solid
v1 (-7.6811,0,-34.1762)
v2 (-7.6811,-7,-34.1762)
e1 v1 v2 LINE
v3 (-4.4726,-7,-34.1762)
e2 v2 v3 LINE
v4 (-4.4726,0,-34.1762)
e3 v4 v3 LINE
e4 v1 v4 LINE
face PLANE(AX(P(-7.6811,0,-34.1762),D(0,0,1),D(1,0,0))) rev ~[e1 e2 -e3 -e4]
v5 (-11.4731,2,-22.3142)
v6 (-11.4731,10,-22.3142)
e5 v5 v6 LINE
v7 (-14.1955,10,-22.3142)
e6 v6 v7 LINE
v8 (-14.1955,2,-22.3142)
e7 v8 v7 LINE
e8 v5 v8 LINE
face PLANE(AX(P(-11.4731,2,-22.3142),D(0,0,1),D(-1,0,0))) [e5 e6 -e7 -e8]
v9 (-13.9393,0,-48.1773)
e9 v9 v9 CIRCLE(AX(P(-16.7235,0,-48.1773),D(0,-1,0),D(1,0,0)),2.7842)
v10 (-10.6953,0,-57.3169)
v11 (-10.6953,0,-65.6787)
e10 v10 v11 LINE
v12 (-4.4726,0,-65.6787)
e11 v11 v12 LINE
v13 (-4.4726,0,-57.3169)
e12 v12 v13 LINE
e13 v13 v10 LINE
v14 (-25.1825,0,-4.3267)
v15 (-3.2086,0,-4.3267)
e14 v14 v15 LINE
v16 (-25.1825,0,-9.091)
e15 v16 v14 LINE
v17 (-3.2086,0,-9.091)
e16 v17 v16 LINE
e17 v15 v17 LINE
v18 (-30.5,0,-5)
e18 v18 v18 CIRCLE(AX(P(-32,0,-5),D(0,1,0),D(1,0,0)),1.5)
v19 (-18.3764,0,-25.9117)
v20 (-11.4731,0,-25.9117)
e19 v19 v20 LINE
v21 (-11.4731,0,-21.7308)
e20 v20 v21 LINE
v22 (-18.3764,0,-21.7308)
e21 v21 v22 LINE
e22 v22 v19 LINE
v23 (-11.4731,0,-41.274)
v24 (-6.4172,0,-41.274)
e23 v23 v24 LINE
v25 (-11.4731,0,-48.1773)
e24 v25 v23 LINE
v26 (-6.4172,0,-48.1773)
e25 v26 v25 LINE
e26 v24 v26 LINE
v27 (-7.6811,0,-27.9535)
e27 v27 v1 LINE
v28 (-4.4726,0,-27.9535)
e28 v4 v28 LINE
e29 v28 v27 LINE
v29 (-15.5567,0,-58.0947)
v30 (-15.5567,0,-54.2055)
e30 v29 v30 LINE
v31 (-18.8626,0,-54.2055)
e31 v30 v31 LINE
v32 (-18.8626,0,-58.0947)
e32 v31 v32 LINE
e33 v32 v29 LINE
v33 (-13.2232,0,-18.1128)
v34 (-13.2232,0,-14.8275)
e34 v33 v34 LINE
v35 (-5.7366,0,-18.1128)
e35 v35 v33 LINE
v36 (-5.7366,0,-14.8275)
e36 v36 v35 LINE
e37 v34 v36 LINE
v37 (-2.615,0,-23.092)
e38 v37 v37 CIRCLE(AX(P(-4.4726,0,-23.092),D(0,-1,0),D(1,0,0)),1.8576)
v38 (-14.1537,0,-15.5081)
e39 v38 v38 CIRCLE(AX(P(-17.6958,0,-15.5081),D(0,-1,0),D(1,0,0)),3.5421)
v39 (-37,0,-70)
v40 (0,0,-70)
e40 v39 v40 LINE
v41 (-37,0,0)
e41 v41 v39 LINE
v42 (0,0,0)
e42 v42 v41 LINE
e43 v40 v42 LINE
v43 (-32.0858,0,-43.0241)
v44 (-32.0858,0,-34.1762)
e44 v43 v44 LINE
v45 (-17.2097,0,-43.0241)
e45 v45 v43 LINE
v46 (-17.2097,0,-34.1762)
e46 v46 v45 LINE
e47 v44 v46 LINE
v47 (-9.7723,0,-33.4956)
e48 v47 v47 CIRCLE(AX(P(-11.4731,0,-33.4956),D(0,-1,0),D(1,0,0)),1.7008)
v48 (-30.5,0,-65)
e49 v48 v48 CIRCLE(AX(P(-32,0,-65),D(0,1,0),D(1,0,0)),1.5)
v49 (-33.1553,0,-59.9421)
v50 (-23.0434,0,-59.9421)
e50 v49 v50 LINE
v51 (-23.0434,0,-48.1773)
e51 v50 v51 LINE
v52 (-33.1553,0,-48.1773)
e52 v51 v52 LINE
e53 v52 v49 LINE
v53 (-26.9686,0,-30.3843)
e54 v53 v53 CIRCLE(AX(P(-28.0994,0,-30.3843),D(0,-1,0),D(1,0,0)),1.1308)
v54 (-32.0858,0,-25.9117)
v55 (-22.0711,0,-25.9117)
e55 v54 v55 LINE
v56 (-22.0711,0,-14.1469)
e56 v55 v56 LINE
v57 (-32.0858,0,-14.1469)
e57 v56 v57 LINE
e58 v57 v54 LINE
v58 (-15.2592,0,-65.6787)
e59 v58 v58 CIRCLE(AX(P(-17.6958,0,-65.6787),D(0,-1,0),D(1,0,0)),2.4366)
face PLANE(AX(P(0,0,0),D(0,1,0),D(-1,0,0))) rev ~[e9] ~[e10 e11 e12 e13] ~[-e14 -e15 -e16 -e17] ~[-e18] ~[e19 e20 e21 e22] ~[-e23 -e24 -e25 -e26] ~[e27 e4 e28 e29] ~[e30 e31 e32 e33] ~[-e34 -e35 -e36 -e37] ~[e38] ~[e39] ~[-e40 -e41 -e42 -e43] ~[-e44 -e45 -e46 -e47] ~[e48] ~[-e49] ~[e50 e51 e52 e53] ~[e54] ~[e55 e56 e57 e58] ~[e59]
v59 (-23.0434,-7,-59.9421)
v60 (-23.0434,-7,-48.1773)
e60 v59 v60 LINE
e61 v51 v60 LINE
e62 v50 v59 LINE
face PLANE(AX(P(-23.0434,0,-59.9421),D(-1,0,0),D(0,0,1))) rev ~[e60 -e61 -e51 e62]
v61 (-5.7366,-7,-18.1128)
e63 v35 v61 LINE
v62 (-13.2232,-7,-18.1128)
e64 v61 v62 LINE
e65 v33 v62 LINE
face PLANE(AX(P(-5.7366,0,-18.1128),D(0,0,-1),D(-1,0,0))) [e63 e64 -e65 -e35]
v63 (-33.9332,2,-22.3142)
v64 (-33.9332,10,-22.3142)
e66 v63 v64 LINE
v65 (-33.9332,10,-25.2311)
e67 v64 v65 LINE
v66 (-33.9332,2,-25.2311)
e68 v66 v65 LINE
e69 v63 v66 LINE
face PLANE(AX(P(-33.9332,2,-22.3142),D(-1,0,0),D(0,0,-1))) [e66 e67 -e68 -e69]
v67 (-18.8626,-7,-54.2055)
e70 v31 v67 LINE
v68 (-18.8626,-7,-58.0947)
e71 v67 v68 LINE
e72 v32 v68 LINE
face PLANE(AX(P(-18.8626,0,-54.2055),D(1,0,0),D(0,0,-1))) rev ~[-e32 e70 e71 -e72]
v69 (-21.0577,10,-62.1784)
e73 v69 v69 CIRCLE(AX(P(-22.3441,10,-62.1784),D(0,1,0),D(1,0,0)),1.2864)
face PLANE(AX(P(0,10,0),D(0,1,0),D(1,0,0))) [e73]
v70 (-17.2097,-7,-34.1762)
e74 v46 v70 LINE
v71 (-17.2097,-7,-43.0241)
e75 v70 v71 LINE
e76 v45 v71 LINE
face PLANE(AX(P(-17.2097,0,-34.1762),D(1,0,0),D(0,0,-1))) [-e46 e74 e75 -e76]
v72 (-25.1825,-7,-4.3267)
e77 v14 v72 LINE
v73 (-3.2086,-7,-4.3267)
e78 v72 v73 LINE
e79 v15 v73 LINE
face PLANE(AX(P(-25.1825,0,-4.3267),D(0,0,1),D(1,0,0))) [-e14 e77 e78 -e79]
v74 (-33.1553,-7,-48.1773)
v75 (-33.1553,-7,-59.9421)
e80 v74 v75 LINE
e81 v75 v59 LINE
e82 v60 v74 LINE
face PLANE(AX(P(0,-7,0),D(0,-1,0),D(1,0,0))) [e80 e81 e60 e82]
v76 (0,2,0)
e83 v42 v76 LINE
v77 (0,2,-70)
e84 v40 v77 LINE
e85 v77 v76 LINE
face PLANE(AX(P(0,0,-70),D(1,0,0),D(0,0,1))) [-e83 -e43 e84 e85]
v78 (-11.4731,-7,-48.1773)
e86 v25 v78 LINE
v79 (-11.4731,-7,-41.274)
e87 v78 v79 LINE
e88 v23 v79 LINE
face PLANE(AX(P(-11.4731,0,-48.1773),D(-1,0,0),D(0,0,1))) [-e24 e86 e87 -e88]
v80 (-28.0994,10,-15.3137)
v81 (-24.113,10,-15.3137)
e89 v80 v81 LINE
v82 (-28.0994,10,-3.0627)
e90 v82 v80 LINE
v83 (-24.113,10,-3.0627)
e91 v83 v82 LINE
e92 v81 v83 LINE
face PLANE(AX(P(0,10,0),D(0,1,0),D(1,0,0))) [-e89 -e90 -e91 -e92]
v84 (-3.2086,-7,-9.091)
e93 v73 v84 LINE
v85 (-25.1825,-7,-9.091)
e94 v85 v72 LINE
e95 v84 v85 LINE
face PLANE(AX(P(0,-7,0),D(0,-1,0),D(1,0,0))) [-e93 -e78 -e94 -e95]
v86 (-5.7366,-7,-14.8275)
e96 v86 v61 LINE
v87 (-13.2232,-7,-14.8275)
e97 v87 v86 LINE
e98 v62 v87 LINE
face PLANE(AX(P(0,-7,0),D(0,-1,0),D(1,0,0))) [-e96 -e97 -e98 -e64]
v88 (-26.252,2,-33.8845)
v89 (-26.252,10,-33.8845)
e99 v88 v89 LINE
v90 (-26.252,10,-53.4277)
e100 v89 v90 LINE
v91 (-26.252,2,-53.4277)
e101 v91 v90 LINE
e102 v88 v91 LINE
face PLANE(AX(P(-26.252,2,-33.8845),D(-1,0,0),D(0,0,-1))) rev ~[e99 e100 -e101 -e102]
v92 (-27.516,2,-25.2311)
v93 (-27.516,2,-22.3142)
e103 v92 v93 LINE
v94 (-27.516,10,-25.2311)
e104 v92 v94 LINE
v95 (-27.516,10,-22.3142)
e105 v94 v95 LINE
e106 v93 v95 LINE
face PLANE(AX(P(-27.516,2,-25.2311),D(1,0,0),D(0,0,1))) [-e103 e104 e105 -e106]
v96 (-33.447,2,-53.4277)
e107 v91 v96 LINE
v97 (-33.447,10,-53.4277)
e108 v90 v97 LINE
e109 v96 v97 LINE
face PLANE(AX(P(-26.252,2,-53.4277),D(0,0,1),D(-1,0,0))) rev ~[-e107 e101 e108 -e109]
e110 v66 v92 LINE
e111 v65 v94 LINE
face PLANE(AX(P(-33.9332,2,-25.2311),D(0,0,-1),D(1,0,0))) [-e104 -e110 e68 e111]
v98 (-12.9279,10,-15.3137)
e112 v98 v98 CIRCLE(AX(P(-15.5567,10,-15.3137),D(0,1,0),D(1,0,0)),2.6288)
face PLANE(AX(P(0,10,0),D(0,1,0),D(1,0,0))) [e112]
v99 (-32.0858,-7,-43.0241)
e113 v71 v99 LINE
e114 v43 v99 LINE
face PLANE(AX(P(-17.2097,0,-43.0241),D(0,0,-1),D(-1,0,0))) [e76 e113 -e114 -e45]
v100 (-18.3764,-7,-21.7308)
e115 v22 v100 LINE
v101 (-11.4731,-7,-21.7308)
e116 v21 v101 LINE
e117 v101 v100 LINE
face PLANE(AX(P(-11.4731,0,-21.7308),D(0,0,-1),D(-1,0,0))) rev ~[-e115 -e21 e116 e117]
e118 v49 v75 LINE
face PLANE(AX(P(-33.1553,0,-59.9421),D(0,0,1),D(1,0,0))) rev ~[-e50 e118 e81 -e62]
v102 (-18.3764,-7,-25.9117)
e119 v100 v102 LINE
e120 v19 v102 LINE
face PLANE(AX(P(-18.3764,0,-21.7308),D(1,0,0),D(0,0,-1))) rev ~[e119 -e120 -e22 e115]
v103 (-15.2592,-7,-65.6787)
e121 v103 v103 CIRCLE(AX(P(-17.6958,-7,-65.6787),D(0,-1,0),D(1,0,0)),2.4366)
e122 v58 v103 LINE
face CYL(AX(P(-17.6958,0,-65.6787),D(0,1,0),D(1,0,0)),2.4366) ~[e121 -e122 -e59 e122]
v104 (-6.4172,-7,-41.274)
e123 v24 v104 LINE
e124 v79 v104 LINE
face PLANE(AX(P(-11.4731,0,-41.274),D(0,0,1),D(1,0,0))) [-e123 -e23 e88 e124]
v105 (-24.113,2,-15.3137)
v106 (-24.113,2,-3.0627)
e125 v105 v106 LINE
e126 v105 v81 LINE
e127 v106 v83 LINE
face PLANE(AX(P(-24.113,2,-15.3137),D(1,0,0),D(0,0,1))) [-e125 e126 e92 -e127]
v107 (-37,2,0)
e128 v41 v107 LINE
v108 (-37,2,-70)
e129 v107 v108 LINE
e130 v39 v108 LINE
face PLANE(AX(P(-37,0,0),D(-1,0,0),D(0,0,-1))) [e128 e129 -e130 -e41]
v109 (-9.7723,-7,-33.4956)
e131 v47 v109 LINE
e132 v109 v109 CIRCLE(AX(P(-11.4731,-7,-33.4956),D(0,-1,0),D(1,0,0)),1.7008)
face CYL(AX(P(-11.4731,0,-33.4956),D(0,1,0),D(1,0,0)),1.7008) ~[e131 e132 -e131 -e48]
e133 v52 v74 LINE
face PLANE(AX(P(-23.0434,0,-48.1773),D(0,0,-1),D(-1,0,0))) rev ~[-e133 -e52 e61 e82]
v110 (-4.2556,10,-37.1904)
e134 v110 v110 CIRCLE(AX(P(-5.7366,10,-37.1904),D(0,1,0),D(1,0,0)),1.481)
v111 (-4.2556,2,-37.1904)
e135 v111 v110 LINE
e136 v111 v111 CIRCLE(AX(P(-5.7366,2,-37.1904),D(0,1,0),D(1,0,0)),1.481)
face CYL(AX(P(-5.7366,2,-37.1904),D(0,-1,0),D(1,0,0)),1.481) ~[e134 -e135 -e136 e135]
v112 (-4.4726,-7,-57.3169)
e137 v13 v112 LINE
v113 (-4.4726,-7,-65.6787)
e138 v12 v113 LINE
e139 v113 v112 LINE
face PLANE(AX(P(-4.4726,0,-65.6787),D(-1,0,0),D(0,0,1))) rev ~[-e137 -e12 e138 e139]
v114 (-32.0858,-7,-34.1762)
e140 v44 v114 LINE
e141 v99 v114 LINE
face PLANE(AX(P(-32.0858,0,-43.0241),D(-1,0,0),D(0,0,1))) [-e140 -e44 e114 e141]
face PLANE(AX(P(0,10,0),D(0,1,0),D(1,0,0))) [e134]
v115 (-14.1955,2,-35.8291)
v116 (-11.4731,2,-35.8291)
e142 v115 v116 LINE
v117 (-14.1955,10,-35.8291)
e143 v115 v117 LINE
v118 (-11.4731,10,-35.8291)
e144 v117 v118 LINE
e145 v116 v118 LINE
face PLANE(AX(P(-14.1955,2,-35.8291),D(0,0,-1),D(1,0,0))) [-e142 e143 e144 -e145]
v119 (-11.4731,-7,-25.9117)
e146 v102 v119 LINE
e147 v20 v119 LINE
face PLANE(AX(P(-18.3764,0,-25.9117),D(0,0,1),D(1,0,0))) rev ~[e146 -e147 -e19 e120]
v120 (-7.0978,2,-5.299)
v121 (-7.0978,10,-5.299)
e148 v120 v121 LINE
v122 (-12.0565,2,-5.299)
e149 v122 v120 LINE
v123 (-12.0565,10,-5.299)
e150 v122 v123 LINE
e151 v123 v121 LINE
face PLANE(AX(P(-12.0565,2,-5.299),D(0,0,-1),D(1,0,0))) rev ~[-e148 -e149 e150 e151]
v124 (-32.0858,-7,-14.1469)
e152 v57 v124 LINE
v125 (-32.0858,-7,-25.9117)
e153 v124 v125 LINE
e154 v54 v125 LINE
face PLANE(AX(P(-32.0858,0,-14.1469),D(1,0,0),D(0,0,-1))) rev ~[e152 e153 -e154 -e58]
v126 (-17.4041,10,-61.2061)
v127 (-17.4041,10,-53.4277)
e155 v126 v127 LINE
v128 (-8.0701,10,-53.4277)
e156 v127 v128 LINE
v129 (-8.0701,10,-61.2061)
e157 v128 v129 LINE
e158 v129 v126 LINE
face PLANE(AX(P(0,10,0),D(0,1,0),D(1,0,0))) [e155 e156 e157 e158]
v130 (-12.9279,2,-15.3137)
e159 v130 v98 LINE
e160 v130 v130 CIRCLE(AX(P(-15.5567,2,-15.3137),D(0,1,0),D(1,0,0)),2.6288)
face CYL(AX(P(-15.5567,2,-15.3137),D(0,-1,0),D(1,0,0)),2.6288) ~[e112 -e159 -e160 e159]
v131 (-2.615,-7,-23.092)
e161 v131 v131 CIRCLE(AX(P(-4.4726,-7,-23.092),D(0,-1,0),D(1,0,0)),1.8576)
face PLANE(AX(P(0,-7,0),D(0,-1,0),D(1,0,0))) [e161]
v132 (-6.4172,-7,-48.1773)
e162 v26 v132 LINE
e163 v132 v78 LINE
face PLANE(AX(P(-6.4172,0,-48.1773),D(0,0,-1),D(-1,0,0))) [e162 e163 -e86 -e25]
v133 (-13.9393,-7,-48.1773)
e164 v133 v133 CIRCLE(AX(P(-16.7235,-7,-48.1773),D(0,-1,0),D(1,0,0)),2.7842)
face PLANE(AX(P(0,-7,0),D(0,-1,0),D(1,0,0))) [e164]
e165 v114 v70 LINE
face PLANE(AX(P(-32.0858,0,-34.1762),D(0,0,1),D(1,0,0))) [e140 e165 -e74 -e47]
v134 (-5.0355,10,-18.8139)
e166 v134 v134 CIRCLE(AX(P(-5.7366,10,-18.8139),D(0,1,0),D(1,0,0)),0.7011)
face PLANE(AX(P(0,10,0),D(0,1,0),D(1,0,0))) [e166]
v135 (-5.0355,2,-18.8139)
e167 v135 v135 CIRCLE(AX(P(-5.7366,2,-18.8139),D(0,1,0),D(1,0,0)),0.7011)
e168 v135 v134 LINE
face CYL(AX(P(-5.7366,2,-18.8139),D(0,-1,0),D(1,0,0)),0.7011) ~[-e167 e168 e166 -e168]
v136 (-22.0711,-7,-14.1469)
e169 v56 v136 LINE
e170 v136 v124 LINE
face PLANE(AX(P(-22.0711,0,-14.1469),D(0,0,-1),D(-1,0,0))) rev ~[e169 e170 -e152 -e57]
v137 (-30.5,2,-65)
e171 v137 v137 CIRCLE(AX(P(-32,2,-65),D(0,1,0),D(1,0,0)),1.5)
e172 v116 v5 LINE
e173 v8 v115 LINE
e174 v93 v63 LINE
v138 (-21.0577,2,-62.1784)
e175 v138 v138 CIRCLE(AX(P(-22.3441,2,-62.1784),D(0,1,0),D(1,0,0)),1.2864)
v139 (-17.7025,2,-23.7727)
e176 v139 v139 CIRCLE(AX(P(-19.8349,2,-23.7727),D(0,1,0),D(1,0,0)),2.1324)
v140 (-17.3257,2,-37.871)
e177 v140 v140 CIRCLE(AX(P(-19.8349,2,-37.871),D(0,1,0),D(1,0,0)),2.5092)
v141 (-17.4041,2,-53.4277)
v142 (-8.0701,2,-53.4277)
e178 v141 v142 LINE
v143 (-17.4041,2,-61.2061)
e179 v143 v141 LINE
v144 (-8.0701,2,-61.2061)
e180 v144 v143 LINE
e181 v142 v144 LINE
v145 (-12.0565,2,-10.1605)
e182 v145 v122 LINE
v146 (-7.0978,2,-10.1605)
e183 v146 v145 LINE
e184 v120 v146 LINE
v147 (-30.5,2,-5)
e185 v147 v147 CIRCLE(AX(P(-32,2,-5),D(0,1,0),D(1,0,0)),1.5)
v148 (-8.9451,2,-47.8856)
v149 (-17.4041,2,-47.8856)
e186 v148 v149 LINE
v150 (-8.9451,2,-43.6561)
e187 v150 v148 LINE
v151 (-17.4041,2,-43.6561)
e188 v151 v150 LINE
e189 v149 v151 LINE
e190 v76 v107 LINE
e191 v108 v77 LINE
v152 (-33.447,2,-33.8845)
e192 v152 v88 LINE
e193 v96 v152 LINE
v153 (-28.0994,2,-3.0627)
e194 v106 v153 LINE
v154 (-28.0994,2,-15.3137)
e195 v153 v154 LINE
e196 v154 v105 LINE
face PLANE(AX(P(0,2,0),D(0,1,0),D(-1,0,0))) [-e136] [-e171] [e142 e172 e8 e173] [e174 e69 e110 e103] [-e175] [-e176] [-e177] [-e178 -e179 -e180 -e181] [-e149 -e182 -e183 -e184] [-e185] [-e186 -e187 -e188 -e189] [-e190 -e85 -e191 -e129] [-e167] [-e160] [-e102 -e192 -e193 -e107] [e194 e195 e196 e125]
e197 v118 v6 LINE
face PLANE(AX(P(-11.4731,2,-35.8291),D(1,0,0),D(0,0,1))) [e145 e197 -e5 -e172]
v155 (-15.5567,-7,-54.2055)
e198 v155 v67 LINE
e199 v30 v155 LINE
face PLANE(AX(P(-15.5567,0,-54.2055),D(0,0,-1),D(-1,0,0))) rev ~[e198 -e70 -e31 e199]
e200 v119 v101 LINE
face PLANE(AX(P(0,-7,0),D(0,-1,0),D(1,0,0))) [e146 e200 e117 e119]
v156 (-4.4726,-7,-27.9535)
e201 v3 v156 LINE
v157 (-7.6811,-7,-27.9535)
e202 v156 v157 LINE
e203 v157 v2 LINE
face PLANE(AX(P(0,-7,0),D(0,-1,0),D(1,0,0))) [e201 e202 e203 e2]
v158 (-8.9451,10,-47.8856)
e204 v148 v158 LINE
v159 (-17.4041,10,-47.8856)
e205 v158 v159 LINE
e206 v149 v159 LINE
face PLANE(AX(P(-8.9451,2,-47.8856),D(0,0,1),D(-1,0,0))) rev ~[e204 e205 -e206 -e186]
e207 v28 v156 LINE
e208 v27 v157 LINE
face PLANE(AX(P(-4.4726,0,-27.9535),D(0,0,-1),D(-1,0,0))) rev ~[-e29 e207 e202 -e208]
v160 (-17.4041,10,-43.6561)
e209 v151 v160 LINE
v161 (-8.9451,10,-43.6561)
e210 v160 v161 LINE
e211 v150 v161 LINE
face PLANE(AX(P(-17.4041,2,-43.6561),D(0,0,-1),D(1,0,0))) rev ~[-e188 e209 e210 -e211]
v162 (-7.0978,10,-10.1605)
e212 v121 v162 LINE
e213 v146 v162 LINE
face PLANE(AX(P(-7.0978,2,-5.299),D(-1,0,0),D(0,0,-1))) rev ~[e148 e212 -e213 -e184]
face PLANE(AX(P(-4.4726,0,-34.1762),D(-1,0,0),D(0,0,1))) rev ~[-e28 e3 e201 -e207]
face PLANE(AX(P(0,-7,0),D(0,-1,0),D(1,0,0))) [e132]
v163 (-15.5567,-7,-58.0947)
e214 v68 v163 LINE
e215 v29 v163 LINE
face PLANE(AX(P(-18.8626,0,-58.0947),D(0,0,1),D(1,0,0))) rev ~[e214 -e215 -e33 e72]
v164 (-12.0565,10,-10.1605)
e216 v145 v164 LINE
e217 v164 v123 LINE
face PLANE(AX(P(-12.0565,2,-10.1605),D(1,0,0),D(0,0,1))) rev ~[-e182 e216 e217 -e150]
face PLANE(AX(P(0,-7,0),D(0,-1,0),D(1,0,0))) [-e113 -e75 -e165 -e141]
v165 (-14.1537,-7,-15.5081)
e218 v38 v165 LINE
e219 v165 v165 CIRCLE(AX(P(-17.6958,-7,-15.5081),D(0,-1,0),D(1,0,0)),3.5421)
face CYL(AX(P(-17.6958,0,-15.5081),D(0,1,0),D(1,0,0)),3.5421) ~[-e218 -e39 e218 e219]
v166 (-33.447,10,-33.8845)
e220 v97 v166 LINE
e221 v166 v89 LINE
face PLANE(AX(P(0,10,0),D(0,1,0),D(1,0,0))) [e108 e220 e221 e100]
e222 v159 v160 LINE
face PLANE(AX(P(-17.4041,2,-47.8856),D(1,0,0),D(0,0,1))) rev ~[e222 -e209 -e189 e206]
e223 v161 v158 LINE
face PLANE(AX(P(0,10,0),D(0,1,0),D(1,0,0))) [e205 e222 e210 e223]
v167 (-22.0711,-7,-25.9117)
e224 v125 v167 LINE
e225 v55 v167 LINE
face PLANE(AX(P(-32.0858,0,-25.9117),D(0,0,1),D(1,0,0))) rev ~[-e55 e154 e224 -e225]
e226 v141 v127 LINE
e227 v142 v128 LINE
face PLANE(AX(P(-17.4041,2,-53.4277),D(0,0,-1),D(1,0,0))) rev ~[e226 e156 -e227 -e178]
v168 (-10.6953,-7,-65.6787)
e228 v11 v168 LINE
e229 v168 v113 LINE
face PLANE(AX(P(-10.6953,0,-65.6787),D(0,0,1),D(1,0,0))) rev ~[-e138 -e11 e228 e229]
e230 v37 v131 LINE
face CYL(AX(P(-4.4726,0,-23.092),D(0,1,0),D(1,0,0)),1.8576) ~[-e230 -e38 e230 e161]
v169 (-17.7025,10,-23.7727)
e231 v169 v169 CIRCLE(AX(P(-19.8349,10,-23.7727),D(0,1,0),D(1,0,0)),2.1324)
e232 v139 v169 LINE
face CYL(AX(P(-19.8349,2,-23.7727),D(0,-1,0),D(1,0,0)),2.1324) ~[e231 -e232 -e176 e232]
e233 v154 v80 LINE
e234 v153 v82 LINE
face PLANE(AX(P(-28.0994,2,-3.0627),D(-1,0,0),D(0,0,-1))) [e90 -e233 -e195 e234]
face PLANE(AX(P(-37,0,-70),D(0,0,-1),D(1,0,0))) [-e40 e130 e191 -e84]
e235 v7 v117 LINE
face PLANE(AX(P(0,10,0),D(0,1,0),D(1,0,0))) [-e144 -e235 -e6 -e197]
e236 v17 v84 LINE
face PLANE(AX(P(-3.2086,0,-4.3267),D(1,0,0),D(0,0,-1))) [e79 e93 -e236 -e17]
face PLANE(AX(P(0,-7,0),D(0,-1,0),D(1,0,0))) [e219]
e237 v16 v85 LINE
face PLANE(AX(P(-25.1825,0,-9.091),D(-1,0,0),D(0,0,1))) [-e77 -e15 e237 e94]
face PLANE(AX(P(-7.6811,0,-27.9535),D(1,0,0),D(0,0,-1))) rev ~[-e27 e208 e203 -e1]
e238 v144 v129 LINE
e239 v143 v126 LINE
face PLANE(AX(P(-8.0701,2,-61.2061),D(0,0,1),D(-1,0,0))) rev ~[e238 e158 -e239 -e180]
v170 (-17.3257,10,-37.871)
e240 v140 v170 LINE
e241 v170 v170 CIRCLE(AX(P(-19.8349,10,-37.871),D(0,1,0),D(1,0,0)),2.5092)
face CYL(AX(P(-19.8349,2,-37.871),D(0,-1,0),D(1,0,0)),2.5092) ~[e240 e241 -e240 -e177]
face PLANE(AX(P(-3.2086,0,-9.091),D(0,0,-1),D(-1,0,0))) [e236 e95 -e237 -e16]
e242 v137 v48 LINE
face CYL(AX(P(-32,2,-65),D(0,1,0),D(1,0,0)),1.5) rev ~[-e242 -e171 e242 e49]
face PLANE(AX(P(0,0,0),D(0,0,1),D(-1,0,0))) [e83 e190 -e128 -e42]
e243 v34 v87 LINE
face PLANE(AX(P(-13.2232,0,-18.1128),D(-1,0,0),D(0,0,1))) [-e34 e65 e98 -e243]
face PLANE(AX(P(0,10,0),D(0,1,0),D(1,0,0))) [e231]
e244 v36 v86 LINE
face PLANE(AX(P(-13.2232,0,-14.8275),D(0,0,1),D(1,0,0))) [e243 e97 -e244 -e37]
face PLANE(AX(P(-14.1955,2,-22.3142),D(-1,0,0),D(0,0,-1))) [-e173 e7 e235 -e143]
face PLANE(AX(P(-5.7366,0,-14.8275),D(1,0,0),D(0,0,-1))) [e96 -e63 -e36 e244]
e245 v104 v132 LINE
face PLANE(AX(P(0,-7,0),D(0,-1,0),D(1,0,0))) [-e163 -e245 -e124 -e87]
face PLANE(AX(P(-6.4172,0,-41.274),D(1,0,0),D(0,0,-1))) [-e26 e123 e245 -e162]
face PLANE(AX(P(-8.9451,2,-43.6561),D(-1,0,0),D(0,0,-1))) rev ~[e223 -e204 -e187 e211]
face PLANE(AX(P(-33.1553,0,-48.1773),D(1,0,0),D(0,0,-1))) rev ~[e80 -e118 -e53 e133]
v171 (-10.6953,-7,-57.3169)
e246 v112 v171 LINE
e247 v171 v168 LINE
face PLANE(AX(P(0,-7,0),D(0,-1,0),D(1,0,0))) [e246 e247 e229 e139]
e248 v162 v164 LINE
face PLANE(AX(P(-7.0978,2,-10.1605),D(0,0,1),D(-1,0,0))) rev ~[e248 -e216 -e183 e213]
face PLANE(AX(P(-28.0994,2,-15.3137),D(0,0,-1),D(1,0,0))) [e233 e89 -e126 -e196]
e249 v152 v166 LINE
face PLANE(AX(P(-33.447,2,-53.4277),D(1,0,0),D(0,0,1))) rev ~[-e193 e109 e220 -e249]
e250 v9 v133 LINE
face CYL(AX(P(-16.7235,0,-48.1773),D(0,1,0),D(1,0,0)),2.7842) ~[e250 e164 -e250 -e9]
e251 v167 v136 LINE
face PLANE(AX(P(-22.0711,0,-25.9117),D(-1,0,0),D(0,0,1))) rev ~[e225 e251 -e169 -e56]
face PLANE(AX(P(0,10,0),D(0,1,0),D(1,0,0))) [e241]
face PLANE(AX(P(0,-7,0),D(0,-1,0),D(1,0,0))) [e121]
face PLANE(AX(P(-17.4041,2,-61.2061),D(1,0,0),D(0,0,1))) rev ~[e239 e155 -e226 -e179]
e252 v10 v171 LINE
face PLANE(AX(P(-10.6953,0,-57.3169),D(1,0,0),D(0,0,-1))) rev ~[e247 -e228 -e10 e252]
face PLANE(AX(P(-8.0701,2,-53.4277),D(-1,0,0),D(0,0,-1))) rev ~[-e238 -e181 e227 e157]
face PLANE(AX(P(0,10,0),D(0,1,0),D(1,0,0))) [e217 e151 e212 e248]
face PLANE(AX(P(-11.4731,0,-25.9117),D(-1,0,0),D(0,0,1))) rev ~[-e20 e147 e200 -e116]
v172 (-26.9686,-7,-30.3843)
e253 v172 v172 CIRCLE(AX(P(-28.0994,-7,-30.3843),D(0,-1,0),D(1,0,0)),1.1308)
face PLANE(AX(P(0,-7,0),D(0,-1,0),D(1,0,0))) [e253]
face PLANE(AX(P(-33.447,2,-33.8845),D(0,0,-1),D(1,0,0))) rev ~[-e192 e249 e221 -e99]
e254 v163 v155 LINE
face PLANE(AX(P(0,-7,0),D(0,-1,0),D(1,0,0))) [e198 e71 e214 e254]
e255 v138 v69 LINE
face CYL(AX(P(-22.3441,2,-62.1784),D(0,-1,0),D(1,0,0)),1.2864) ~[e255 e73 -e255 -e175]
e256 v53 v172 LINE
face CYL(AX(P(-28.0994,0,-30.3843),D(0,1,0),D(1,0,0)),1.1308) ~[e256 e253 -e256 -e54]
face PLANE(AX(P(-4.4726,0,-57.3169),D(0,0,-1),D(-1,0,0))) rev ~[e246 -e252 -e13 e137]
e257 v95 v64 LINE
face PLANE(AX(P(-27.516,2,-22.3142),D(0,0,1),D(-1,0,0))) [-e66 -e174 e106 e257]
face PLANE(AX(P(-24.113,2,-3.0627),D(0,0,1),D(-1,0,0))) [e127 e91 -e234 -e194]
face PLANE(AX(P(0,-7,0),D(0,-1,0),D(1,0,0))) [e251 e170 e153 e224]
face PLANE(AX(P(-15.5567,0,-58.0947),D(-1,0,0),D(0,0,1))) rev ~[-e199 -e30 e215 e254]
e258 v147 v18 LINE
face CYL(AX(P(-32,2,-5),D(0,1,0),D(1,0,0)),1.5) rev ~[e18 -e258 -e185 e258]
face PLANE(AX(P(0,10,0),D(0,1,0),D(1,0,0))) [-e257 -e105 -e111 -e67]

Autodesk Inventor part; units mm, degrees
ref_plane "YZ Plane" through (0, 0, 0) normal (1, 0, 0) x (0, 1, 0)
ref_plane "XZ Plane" through (0, 0, 0) normal (0, 1, 0) x (-1, 0, 0)
ref_plane "XY Plane" through (0, 0, 0) normal (0, 0, 1) x (1, 0, 0)
sketch "Sketch1" plane through (0, 0, 0) normal (0, 1, 0) x (-1, 0, 0)
  line L0 (0, 0) -> (37, 0)
  line L1 (37, 0) -> (37, -70)
  line L2 (37, -70) -> (0, -70)
  line L3 (0, -70) -> (0, 0)
  dimension "d0" = 37
  dimension "d1" = 70
extrude "Extrusion1" add sketch "Sketch1" along normal blind 2
sketch "Sketch2" plane through (0, 2, 0) normal (0, 1, 0) x (1, 0, 0)
  circle A0 centre (-32, 5) radius 1.5
  circle A1 centre (-32, 65) radius 1.5
  line L0 (-37, 70) -> (-37, 0) projected
  line L1 (-37, 0) -> (0, 0) projected
  line L2 (0, 70) -> (-37, 70) projected
  dimension "d4" = 3
  dimension "d5" = 3
  dimension "d6" = 5
  dimension "d11" = 60
  dimension "d12" = 5
extrude "Extrusion2" cut sketch "Sketch2" against normal through all
sketch "Sketch3" plane through (0, 2, 0) normal (0, 1, 0) x (1, 0, 0)
  line L0 (-8.0701, 61.2061) -> (-17.4041, 61.2061)
  line L1 (-17.4041, 61.2061) -> (-17.4041, 53.4277)
  line L2 (-17.4041, 53.4277) -> (-8.0701, 53.4277)
  line L3 (-8.0701, 53.4277) -> (-8.0701, 61.2061)
  line L4 (-26.252, 53.4277) -> (-33.447, 53.4277)
  line L5 (-33.447, 53.4277) -> (-33.447, 33.8845)
  line L6 (-33.447, 33.8845) -> (-26.252, 33.8845)
  line L7 (-26.252, 33.8845) -> (-26.252, 53.4277)
  line L8 (-14.1955, 35.8291) -> (-11.4731, 35.8291)
  line L9 (-11.4731, 35.8291) -> (-11.4731, 22.3142)
  line L10 (-11.4731, 22.3142) -> (-14.1955, 22.3142)
  line L11 (-14.1955, 22.3142) -> (-14.1955, 35.8291)
  line L12 (-8.9451, 47.8856) -> (-17.4041, 47.8856)
  line L13 (-17.4041, 47.8856) -> (-17.4041, 43.6561)
  line L14 (-17.4041, 43.6561) -> (-8.9451, 43.6561)
  line L15 (-8.9451, 43.6561) -> (-8.9451, 47.8856)
  line L16 (-7.0978, 10.1605) -> (-12.0565, 10.1605)
  line L17 (-12.0565, 10.1605) -> (-12.0565, 5.299)
  line L18 (-12.0565, 5.299) -> (-7.0978, 5.299)
  line L19 (-7.0978, 5.299) -> (-7.0978, 10.1605)
  line L20 (-24.113, 3.0627) -> (-28.0994, 3.0627)
  line L21 (-28.0994, 3.0627) -> (-28.0994, 15.3137)
  line L22 (-28.0994, 15.3137) -> (-24.113, 15.3137)
  line L23 (-24.113, 15.3137) -> (-24.113, 3.0627)
  line L24 (-27.516, 22.3142) -> (-33.9332, 22.3142)
  line L25 (-33.9332, 22.3142) -> (-33.9332, 25.2311)
  line L26 (-33.9332, 25.2311) -> (-27.516, 25.2311)
  line L27 (-27.516, 25.2311) -> (-27.516, 22.3142)
  circle A0 centre (-19.8349, 37.871) radius 2.5092
  circle A1 centre (-19.8349, 23.7727) radius 2.1324
  circle A2 centre (-5.7366, 37.1904) radius 1.481
  circle A3 centre (-5.7366, 18.8139) radius 0.7011
  circle A4 centre (-15.5567, 15.3137) radius 2.6288
  circle A5 centre (-22.3441, 62.1784) radius 1.2864
  point P0 (0, 0)
extrude "Extrusion3" add sketch "Sketch3" along normal blind 8
sketch "Sketch4" plane through (0, 0, 0) normal (0, -1, 0) x (1, 0, 0)
  line L0 (-18.8626, -58.0947) -> (-15.5567, -58.0947)
  line L1 (-15.5567, -58.0947) -> (-15.5567, -54.2055)
  line L2 (-15.5567, -54.2055) -> (-18.8626, -54.2055)
  line L3 (-18.8626, -54.2055) -> (-18.8626, -58.0947)
  line L4 (-18.3764, -25.9117) -> (-11.4731, -25.9117)
  line L5 (-11.4731, -25.9117) -> (-11.4731, -21.7308)
  line L6 (-11.4731, -21.7308) -> (-18.3764, -21.7308)
  line L7 (-18.3764, -21.7308) -> (-18.3764, -25.9117)
  line L8 (-6.4172, -48.1773) -> (-11.4731, -48.1773)
  line L9 (-11.4731, -48.1773) -> (-11.4731, -41.274)
  line L10 (-11.4731, -41.274) -> (-6.4172, -41.274)
  line L11 (-6.4172, -41.274) -> (-6.4172, -48.1773)
  line L12 (-32.0858, -34.1762) -> (-17.2097, -34.1762)
  line L13 (-17.2097, -34.1762) -> (-17.2097, -43.0241)
  line L14 (-17.2097, -43.0241) -> (-32.0858, -43.0241)
  line L15 (-32.0858, -43.0241) -> (-32.0858, -34.1762)
  line L16 (-33.1553, -59.9421) -> (-23.0434, -59.9421)
  line L17 (-23.0434, -59.9421) -> (-23.0434, -48.1773)
  line L18 (-23.0434, -48.1773) -> (-33.1553, -48.1773)
  line L19 (-33.1553, -48.1773) -> (-33.1553, -59.9421)
  line L20 (-32.0858, -25.9117) -> (-22.0711, -25.9117)
  line L21 (-22.0711, -25.9117) -> (-22.0711, -14.1469)
  line L22 (-22.0711, -14.1469) -> (-32.0858, -14.1469)
  line L23 (-32.0858, -14.1469) -> (-32.0858, -25.9117)
  line L24 (-25.1825, -4.3267) -> (-3.2086, -4.3267)
  line L25 (-3.2086, -4.3267) -> (-3.2086, -9.091)
  line L26 (-3.2086, -9.091) -> (-25.1825, -9.091)
  line L27 (-25.1825, -9.091) -> (-25.1825, -4.3267)
  circle A0 centre (-5.7366, -18.8139) radius 0.7011 projected
  line L28 (-13.2232, -14.8275) -> (-5.7366, -14.8275)
  line L29 (-5.7366, -14.8275) -> (-5.7366, -18.1128)
  line L30 (-5.7366, -18.1128) -> (-13.2232, -18.1128)
  line L31 (-13.2232, -18.1128) -> (-13.2232, -14.8275)
  line L32 (-7.6811, -34.1762) -> (-4.4726, -34.1762)
  line L33 (-4.4726, -34.1762) -> (-4.4726, -27.9535)
  line L34 (-4.4726, -27.9535) -> (-7.6811, -27.9535)
  line L35 (-7.6811, -27.9535) -> (-7.6811, -34.1762)
  line L36 (-10.6953, -65.6787) -> (-4.4726, -65.6787)
  line L37 (-4.4726, -65.6787) -> (-4.4726, -57.3169)
  line L38 (-4.4726, -57.3169) -> (-10.6953, -57.3169)
  line L39 (-10.6953, -57.3169) -> (-10.6953, -65.6787)
  circle A1 centre (-17.6958, -65.6787) radius 2.4366
  circle A2 centre (-16.7235, -48.1773) radius 2.7842
  circle A3 centre (-11.4731, -33.4956) radius 1.7008
  circle A4 centre (-28.0994, -30.3843) radius 1.1308
  circle A5 centre (-17.6958, -15.5081) radius 3.5421
  circle A6 centre (-4.4726, -23.092) radius 1.8576
  point P0 (0, 0)
extrude "Extrusion4" add sketch "Sketch4" along normal blind 7 contours L3 L2 L1 L0 | L7 L6 L5 L4 | L8 L9 L10 L11 | L12 L13 L14 L15 | L19 L18 L17 L16 | L23 L22 L21 L20 | L24 L25 L26 L27 | L30 L31 L28 L29 | L35 L34 L33 L32 | L39 L38 L37 L36 | A1 | A2 | A3 | A4 | A5 | A6
properties part number "printplaat"
